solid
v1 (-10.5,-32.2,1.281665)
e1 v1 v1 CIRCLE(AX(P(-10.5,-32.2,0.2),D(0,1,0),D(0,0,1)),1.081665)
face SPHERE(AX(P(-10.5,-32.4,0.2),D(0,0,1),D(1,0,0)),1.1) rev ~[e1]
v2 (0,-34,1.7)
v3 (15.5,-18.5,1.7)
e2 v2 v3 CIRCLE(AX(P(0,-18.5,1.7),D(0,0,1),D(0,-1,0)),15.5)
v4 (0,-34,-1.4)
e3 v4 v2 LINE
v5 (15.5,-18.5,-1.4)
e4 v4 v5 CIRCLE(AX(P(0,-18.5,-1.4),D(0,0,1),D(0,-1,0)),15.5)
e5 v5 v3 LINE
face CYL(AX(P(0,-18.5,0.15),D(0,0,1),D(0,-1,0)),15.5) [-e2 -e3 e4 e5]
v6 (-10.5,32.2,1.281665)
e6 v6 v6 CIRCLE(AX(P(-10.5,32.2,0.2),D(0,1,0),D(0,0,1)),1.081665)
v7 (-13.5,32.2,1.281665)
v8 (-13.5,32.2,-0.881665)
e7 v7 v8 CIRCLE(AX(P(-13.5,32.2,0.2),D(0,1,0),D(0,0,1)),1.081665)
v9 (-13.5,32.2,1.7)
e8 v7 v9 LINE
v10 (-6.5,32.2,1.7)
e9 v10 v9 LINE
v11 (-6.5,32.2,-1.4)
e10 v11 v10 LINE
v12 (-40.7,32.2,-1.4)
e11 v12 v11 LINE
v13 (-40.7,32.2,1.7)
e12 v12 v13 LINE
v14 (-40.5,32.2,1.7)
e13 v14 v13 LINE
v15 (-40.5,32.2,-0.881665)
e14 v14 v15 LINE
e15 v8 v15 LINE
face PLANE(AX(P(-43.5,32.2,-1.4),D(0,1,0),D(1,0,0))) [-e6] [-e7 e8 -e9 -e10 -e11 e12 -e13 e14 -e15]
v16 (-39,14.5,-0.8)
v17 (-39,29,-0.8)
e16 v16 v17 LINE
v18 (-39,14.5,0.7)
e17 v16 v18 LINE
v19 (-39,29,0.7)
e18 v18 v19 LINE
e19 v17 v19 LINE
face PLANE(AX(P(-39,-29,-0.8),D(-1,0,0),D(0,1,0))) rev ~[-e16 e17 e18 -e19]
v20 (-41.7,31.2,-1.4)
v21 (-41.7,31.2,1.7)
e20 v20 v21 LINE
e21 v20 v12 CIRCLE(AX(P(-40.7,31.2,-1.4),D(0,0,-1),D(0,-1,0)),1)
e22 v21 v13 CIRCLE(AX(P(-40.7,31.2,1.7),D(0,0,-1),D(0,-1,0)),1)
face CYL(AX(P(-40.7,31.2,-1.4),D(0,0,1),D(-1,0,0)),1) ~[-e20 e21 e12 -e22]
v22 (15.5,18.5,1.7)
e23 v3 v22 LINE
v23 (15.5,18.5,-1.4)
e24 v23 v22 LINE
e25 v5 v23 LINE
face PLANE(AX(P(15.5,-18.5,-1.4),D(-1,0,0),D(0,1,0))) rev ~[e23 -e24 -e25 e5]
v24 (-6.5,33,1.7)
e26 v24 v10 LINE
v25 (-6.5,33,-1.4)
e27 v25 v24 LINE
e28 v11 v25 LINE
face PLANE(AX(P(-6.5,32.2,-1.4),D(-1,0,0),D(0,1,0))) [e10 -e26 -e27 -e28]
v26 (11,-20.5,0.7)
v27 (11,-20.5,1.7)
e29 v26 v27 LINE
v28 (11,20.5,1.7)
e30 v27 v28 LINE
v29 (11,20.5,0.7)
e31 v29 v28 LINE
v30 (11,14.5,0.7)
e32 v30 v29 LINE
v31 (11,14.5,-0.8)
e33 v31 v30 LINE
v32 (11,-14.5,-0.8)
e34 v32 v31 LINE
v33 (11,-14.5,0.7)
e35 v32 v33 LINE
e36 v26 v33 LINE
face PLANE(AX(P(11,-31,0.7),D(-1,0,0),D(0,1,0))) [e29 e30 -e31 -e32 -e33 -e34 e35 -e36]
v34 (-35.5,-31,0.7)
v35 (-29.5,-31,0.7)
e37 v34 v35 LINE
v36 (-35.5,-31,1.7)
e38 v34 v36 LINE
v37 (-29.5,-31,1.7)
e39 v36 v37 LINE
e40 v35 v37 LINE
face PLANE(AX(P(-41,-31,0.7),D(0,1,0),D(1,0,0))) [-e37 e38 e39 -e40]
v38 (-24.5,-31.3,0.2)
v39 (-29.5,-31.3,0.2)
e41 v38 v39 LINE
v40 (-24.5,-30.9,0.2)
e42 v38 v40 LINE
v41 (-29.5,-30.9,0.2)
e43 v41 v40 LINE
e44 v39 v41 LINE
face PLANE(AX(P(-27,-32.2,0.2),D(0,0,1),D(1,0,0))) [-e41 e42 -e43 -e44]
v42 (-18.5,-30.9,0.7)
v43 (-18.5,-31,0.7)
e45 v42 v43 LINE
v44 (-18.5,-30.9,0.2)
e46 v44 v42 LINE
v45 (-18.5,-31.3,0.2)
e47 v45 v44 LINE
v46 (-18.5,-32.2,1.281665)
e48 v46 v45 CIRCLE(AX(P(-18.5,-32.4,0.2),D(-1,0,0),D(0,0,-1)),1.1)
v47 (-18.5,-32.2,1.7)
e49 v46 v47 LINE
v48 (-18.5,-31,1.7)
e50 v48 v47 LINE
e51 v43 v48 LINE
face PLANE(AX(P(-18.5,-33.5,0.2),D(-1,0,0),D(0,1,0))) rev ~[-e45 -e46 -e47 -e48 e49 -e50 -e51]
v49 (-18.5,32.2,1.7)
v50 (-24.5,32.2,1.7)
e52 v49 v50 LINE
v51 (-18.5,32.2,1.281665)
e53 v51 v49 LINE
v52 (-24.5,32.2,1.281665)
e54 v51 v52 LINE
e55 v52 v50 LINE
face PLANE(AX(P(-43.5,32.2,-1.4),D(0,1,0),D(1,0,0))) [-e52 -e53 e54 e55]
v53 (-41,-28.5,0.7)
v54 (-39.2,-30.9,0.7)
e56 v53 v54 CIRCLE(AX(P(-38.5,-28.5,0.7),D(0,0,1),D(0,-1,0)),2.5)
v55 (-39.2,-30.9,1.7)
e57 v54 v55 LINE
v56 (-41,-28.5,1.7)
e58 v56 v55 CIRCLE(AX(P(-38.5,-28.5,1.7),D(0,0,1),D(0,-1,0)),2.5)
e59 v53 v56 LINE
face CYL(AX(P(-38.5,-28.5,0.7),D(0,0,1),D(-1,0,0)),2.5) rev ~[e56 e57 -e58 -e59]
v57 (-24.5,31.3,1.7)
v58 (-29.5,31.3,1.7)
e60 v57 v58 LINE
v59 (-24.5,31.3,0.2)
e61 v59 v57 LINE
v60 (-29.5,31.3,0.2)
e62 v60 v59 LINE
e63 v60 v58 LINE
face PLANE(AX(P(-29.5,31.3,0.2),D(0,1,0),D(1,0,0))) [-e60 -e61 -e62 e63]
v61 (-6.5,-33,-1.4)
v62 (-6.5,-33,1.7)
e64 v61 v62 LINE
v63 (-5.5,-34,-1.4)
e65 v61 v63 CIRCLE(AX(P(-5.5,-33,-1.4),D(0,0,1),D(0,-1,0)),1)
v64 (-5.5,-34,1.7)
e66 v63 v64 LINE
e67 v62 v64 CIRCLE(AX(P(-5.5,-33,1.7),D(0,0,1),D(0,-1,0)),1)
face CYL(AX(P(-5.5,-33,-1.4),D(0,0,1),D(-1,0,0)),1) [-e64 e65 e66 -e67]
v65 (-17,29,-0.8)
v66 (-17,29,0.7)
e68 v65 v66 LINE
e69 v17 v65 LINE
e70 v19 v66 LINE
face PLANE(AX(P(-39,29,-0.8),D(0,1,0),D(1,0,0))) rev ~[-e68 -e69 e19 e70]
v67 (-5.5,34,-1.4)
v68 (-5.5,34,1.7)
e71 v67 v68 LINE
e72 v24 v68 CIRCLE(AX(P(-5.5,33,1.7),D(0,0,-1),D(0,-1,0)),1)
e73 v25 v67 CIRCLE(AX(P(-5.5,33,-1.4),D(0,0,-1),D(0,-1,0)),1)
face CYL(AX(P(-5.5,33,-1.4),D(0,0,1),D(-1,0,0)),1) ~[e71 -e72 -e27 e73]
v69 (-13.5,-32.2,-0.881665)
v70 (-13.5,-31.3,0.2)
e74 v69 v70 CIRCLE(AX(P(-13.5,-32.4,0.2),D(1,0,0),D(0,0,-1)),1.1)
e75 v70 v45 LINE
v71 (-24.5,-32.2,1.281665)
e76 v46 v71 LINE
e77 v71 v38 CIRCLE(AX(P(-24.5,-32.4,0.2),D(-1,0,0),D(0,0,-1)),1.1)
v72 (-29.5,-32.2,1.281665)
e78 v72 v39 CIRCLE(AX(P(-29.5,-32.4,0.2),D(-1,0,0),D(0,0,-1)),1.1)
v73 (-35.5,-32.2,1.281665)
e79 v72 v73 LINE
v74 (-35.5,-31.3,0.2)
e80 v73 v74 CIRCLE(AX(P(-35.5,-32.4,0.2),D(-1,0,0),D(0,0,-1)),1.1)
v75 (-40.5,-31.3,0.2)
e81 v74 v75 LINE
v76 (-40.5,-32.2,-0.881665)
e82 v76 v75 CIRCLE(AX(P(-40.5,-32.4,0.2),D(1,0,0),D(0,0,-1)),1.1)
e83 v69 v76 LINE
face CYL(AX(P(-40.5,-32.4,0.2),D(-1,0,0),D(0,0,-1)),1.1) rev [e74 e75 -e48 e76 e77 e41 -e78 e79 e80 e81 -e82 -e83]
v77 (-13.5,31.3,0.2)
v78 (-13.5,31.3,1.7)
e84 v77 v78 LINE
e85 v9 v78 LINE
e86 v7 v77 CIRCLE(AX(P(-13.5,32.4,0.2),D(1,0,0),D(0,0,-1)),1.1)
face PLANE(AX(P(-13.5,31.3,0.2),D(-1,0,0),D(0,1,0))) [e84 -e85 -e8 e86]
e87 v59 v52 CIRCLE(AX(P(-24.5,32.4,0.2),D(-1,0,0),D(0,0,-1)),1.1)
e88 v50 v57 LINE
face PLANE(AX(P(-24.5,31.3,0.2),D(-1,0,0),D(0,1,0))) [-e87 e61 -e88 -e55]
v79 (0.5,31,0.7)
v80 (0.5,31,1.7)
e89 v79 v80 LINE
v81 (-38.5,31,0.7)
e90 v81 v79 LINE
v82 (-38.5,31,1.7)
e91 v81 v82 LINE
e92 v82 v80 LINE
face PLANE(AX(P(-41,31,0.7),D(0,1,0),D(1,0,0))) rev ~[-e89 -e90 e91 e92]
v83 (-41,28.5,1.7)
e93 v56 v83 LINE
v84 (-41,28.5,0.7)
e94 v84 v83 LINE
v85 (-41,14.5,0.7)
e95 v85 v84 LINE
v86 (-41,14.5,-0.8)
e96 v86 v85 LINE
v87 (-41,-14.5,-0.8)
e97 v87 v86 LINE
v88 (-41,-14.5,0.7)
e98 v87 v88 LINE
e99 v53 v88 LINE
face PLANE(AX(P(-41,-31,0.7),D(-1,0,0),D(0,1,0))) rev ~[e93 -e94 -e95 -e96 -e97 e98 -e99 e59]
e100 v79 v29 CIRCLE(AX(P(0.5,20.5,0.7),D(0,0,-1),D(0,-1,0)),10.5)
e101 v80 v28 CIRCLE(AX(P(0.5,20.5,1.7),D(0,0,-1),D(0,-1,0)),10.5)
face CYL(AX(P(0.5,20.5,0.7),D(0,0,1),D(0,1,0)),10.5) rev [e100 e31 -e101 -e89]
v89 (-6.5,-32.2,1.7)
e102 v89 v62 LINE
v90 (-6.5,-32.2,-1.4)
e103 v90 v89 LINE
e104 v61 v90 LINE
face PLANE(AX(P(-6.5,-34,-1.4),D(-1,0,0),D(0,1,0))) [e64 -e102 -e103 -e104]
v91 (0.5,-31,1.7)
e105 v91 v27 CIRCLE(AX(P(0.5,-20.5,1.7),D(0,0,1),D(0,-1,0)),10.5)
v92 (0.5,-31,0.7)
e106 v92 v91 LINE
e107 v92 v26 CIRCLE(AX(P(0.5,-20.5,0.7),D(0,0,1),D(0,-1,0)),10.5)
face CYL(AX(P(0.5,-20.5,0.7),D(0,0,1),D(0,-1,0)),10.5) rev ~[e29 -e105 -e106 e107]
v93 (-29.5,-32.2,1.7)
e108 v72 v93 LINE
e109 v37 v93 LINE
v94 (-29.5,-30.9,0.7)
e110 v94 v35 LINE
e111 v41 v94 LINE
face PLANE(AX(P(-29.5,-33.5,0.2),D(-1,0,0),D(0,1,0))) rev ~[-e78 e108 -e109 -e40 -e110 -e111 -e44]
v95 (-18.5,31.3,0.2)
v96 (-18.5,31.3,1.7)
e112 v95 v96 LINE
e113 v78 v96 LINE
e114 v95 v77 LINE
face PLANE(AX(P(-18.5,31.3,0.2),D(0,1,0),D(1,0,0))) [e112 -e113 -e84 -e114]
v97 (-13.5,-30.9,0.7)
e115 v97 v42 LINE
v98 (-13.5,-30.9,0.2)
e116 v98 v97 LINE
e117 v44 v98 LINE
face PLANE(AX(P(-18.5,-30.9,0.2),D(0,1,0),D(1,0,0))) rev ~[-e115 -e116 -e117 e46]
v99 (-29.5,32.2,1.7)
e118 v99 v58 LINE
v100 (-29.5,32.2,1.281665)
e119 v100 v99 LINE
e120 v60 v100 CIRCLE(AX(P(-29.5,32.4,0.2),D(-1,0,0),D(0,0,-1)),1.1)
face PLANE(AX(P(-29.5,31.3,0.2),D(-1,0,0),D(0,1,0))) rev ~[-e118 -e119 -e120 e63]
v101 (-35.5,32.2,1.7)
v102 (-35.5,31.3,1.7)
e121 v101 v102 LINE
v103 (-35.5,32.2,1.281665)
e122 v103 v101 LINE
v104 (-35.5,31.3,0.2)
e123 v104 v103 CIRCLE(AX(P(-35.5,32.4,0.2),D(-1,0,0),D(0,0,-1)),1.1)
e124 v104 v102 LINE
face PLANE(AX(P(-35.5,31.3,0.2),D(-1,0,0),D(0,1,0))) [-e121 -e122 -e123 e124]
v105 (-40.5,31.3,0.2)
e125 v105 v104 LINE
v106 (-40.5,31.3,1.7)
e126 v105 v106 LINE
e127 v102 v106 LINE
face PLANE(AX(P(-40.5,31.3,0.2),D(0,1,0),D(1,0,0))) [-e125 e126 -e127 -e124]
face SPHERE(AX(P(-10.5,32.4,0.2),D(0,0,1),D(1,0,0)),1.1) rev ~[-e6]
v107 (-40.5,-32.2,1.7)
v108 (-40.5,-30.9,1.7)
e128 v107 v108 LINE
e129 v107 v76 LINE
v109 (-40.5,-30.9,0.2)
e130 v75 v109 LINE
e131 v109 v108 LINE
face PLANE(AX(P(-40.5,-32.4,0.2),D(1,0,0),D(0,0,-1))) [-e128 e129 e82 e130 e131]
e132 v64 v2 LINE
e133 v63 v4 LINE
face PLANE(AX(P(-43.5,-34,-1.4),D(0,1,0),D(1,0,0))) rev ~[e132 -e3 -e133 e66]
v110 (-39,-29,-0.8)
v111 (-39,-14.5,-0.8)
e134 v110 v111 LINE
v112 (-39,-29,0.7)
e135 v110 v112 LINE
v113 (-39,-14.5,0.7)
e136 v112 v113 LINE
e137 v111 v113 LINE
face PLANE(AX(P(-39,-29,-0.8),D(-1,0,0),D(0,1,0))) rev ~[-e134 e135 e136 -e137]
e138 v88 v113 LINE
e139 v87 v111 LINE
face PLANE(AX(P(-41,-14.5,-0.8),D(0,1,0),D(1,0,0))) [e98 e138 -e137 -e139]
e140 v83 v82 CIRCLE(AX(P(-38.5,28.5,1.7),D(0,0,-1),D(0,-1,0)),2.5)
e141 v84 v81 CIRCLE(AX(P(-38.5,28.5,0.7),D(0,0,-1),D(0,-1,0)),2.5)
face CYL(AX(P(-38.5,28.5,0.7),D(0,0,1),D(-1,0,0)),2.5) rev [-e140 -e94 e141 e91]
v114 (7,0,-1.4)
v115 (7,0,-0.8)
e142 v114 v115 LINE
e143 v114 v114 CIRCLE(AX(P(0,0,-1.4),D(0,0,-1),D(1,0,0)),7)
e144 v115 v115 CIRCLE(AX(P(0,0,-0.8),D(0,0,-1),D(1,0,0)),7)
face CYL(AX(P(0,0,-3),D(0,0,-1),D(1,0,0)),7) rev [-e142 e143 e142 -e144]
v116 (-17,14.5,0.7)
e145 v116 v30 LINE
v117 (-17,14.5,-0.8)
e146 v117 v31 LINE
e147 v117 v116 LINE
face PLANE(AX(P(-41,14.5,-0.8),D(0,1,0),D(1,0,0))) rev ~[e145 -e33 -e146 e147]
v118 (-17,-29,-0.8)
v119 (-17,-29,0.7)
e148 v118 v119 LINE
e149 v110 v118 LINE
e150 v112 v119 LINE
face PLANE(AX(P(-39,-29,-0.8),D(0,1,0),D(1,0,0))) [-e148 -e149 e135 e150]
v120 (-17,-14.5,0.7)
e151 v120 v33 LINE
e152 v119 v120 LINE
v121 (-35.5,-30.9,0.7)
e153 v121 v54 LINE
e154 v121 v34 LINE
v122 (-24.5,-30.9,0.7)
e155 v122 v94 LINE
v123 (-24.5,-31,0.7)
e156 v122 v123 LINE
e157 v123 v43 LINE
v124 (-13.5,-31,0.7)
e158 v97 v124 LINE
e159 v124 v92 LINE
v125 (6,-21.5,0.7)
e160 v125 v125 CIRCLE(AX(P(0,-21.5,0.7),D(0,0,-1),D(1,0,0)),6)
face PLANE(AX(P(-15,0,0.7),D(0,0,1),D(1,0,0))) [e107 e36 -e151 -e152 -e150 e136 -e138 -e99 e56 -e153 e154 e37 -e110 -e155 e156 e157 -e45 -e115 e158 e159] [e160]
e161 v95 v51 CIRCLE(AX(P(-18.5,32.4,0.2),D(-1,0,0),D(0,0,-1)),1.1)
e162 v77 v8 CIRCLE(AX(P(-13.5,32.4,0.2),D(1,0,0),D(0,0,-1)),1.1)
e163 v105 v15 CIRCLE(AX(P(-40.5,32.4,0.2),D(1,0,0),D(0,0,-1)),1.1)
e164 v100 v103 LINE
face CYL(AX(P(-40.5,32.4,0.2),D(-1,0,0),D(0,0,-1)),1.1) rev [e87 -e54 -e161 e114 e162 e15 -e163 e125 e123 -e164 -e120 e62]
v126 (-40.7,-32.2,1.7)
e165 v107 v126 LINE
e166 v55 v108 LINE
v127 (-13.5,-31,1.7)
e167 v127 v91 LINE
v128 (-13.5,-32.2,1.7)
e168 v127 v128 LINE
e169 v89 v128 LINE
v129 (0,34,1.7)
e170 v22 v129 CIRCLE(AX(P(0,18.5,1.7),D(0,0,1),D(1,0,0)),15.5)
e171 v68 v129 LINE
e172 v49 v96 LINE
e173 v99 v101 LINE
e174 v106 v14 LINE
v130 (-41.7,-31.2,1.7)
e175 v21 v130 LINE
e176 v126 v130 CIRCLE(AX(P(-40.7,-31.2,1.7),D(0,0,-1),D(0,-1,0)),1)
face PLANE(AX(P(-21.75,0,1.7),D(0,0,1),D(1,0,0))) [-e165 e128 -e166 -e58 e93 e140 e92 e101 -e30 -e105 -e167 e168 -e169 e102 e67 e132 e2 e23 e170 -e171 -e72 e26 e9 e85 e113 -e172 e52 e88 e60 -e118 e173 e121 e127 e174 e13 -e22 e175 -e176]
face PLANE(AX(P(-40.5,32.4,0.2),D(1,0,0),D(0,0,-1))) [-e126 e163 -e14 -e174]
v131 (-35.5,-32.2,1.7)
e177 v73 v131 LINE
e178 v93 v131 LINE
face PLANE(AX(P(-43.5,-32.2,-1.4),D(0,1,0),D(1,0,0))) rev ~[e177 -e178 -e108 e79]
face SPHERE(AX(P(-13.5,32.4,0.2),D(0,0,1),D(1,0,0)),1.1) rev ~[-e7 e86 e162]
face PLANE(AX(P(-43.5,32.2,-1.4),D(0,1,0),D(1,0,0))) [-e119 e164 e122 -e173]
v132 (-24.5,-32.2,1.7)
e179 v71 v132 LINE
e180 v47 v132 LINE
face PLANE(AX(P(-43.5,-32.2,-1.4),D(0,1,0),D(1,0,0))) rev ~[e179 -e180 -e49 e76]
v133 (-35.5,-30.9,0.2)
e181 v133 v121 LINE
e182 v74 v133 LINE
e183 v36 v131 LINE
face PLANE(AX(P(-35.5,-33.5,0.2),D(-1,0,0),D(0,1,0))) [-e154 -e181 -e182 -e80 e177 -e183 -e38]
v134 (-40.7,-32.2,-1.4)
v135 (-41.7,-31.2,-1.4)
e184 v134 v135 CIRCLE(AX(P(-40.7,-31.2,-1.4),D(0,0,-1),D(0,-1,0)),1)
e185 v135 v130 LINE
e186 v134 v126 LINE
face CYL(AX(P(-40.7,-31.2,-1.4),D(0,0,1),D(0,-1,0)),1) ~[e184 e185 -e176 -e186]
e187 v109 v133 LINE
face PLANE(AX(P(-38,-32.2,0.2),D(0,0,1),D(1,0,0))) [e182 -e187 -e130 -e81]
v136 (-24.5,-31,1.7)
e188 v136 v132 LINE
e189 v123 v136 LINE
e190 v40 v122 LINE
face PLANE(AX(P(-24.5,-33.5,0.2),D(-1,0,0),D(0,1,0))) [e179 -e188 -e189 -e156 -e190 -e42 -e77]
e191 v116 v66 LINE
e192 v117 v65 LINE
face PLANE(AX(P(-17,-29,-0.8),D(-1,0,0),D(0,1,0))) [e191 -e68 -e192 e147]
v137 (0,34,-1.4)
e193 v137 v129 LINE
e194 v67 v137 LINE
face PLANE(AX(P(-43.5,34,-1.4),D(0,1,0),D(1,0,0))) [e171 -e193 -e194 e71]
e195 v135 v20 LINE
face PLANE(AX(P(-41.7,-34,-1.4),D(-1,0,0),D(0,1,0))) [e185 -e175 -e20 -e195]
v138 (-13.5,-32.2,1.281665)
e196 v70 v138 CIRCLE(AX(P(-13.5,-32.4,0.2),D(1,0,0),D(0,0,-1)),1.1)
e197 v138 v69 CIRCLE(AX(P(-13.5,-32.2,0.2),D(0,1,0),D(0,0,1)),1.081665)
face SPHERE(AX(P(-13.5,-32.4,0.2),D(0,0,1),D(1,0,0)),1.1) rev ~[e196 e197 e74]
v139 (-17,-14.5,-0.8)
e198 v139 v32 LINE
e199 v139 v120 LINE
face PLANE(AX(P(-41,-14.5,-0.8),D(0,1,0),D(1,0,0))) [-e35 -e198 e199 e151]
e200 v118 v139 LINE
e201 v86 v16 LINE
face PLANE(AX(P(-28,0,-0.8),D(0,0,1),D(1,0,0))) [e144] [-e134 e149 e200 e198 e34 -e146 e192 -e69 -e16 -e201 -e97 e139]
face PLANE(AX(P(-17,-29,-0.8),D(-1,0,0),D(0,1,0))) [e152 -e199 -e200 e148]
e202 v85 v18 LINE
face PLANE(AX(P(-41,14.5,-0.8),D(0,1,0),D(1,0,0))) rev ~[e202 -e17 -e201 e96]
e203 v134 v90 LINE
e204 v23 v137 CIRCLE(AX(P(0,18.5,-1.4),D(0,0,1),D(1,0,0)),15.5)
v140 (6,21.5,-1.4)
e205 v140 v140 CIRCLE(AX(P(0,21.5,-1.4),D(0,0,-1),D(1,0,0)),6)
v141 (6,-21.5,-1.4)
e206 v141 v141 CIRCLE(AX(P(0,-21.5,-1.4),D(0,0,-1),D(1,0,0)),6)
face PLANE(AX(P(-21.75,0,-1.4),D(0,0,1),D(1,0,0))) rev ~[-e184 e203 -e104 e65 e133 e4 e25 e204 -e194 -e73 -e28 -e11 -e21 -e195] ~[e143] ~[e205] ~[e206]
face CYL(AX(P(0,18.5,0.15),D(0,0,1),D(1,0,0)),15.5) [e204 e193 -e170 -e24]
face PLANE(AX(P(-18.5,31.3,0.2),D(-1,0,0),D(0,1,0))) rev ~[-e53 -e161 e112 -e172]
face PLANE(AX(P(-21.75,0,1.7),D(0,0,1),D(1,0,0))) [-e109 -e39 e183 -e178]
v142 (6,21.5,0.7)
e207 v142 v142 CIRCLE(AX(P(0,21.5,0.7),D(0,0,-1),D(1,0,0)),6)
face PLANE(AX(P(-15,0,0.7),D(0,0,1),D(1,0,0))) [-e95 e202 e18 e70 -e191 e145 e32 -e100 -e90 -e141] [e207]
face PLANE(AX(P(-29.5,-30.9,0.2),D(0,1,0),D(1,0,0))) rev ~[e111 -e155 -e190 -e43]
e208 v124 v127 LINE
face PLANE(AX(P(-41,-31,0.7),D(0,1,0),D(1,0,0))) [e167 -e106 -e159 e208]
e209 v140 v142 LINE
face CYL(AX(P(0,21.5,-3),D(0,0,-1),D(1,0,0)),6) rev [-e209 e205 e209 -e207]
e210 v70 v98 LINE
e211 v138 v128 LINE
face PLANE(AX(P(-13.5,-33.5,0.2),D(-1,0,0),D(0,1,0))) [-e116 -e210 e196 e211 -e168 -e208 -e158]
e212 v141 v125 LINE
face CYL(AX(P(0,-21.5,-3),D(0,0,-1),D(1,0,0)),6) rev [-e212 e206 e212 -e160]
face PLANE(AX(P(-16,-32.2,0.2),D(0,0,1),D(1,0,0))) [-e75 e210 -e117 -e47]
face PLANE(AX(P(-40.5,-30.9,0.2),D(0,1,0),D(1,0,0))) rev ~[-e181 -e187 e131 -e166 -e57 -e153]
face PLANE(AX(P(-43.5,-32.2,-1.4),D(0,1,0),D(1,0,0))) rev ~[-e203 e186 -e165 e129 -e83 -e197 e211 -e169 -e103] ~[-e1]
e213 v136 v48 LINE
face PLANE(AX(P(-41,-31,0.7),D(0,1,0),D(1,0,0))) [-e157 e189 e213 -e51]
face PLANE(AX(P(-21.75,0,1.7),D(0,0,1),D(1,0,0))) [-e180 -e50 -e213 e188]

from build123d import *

# Parameters (mm, degrees)
CYLINDER_R        = 1.1
CYLINDER_DEPTH    = 27
ARRAY018_Y_COUNT  = 2
ARRAY018_Y_PITCH  = 64.8
BOX_W             = 5
BOX_H             = 2.6
BOX_DEPTH         = 10
ARRAY019_X_COUNT  = 3
ARRAY019_X_PITCH  = 11
ARRAY019_Y_COUNT  = 2
ARRAY019_Y_PITCH  = 64.8
ARRAY017_X_COUNT  = 2
ARRAY017_X_PITCH  = 3
ARRAY017_Y_COUNT  = 2
ARRAY017_Y_PITCH  = 64.8
BOX030_W          = 1.8
BOX030_H          = 68
BOX030_DEPTH      = 10
BOX029_W          = 37
BOX029_H          = 1.8
BOX029_DEPTH      = 10
ARRAY016_Y_COUNT  = 2
ARRAY016_Y_PITCH  = 66.2
CYLINDER021_R     = 6
CYLINDER021_DEPTH = 10
CYLINDER022_R     = 7
CYLINDER022_DEPTH = 10
CYLINDER020_R     = 6
CYLINDER020_DEPTH = 10
BOX028_W          = 22
BOX028_H          = 58
BOX028_DEPTH      = 1.5
BOX027_W          = 52
BOX027_H          = 29
BOX027_DEPTH      = 1.5
BOX026_W          = 52
BOX026_H          = 62
BOX026_DEPTH      = 1
FILLET018_R       = 2.5
FILLET019_R       = 10.5
CYLINDER019_W     = 15.5
CYLINDER019_H     = 3.1
CYLINDER019_ANGLE = 90
BOX024_W          = 15.5
BOX024_H          = 37
BOX024_DEPTH      = 3.1
BOX025_W          = 43.5
BOX025_H          = 68
BOX025_DEPTH      = 3.1
FILLET017_R       = 2
CYLINDER018_W     = 15.5
CYLINDER018_H     = 3.1
CYLINDER018_ANGLE = 90
FILLET020_R       = 1


with BuildPart() as array018:
    # Cylinder → Cylinder (new body)
    with BuildSketch(Plane(origin=(-40.5, -32.4, 0.2), x_dir=(0, 0, -1), z_dir=(1, 0, 0))):
        Circle(CYLINDER_R)
    extrude(amount=CYLINDER_DEPTH)

    # Array018 Y: Array018 ×2


with BuildPart() as array018_1:
    add(array018.part)
    with Locations(*[(0, i * ARRAY018_Y_PITCH, 0) for i in range(1, ARRAY018_Y_COUNT)]):
        add(array018.part)


with BuildPart() as array019:
    # Box → Box (new body)
    with BuildSketch(Plane(origin=(-18.5, -33.5, 0.2), x_dir=(1, 0, 0), z_dir=(0, 0, 1))):
        with Locations((2.5, 1.3)):
            Rectangle(BOX_W, BOX_H)
    extrude(amount=BOX_DEPTH)

    # Array019 X: Array019 ×3


with BuildPart() as array019_1:
    add(array019.part)
    with Locations(*[(-i * ARRAY019_X_PITCH, 0, 0) for i in range(1, ARRAY019_X_COUNT)]):
        add(array019.part)

    # Array019 Y: Array019 ×2


with BuildPart() as array019_2:
    add(array019_1.part)
    with Locations(*[(0, i * ARRAY019_Y_PITCH, 0) for i in range(1, ARRAY019_Y_COUNT)]):
        add(array019_1.part)


with BuildPart() as nutall:
    # Sphere001 → Sphere001 (revolve)
    with BuildSketch(Plane(origin=(-10.5, -32.4, 0.2), x_dir=(1, 0, 0), z_dir=(0, -1, 0))):
        with BuildLine():
            ThreePointArc((0, -1.1), (1.1, 0), (0, 1.1))
            Line((0, 1.1), (0, -1.1))
        make_face()
    revolve(axis=Axis((-10.5, -32.4, 0.2), (0, 0, 1)))

    # Array017 X: NutAll ×2


with BuildPart() as nutall_1:
    add(nutall.part)
    with Locations(*[(-i * ARRAY017_X_PITCH, 0, 0) for i in range(1, ARRAY017_X_COUNT)]):
        add(nutall.part)

    # Array017 Y: NutAll ×2


with BuildPart() as nutall_2:
    add(nutall_1.part)
    with Locations(*[(0, i * ARRAY017_Y_PITCH, 0) for i in range(1, ARRAY017_Y_COUNT)]):
        add(nutall_1.part)

    # Fusion013: union Array018, Array019
    add(array018_1.part)
    add(array019_2.part)


with BuildPart() as dbcut2:
    # Box030 → Box030 (new body)
    with BuildSketch(Plane(origin=(-43.5, -34, -1.4), x_dir=(1, 0, 0), z_dir=(0, 0, 1))):
        with Locations((0.9, 34)):
            Rectangle(BOX030_W, BOX030_H)
    extrude(amount=BOX030_DEPTH)


with BuildPart() as deckelrandcut:
    # Box029 → Box029 (new body)
    with BuildSketch(Plane(origin=(-43.5, -34, -1.4), x_dir=(1, 0, 0), z_dir=(0, 0, 1))):
        with Locations((18.5, 0.9)):
            Rectangle(BOX029_W, BOX029_H)
    extrude(amount=BOX029_DEPTH)

    # Array016 Y: DeckelRandCut ×2


with BuildPart() as deckelrandcut_1:
    add(deckelrandcut.part)
    with Locations(*[(0, i * ARRAY016_Y_PITCH, 0) for i in range(1, ARRAY016_Y_COUNT)]):
        add(deckelrandcut.part)

    # Fusion012: union DBCut2
    add(dbcut2.part)


with BuildPart() as locho:
    # Cylinder021 → Cylinder021 (new body)
    with BuildSketch(Plane(origin=(0, 21.5, -3), x_dir=(1, 0, 0), z_dir=(0, 0, 1))):
        Circle(CYLINDER021_R)
    extrude(amount=CYLINDER021_DEPTH)


with BuildPart() as lochm:
    # Cylinder022 → Cylinder022 (new body)
    with BuildSketch(Plane.XY.offset(-3)):
        Circle(CYLINDER022_R)
    extrude(amount=CYLINDER022_DEPTH)


with BuildPart() as lochomu:
    # Cylinder020 → Cylinder020 (new body)
    with BuildSketch(Plane(origin=(0, -21.5, -3), x_dir=(1, 0, 0), z_dir=(0, 0, 1))):
        Circle(CYLINDER020_R)
    extrude(amount=CYLINDER020_DEPTH)

    # Fusion009: union LochO, LochM
    add(locho.part)
    add(lochm.part)


with BuildPart() as partcut2:
    # Box028 → Box028 (new body)
    with BuildSketch(Plane(origin=(-39, -29, -0.8), x_dir=(1, 0, 0), z_dir=(0, 0, 1))):
        with Locations((11, 29)):
            Rectangle(BOX028_W, BOX028_H)
    extrude(amount=BOX028_DEPTH)


with BuildPart() as partcuts:
    # Box027 → Box027 (new body)
    with BuildSketch(Plane(origin=(-41, -14.5, -0.8), x_dir=(1, 0, 0), z_dir=(0, 0, 1))):
        with Locations((26, 14.5)):
            Rectangle(BOX027_W, BOX027_H)
    extrude(amount=BOX027_DEPTH)

    # Fusion008: union PartCut2
    add(partcut2.part)


with BuildPart() as fillet019:
    # Box026 → Box026 (new body)
    with BuildSketch(Plane(origin=(-41, -31, 0.7), x_dir=(1, 0, 0), z_dir=(0, 0, 1))):
        with Locations((26, 31)):
            Rectangle(BOX026_W, BOX026_H)
    extrude(amount=BOX026_DEPTH)

    # Fillet018
    fillet018_edges = [fillet019.edges().sort_by_distance(p)[0] for p in [
        (-41, -31, 1.2),
        (-41, 31, 1.2),
    ]]
    fillet(fillet018_edges, radius=FILLET018_R)

    # Fillet019
    fillet019_edges = [fillet019.edges().sort_by_distance(p)[0] for p in [
        (11, -31, 1.2),
        (11, 31, 1.2),
    ]]
    fillet(fillet019_edges, radius=FILLET019_R)


with BuildPart() as eru:
    # Cylinder019 → Cylinder019 (revolve)
    with BuildSketch(Plane(origin=(0, -18.5, -1.4), x_dir=(0, -1, 0), z_dir=(-1, 0, 0))):
        with Locations((7.75, 1.55)):
            Rectangle(CYLINDER019_W, CYLINDER019_H)
    revolve(axis=Axis((0, -18.5, -1.4), (0, 0, 1)), revolution_arc=CYLINDER019_ANGLE)


with BuildPart() as mr:
    # Box024 → Box024 (new body)
    with BuildSketch(Plane(origin=(0, -18.5, -1.4), x_dir=(1, 0, 0), z_dir=(0, 0, 1))):
        with Locations((7.75, 18.5)):
            Rectangle(BOX024_W, BOX024_H)
    extrude(amount=BOX024_DEPTH)


with BuildPart() as fillet017:
    # Box025 → Box025 (new body)
    with BuildSketch(Plane(origin=(-43.5, -34, -1.4), x_dir=(1, 0, 0), z_dir=(0, 0, 1))):
        with Locations((21.75, 34)):
            Rectangle(BOX025_W, BOX025_H)
    extrude(amount=BOX025_DEPTH)

    # Fillet017
    fillet017_edges = [fillet017.edges().sort_by_distance(p)[0] for p in [
        (-43.5, -34, 0.15),
        (-43.5, 34, 0.15),
    ]]
    fillet(fillet017_edges, radius=FILLET017_R)


with BuildPart() as bodenr:
    # Cylinder018 → Cylinder018 (revolve)
    with BuildSketch(Plane(origin=(0, 18.5, -1.4), x_dir=(1, 0, 0), z_dir=(0, -1, 0))):
        with Locations((7.75, 1.55)):
            Rectangle(CYLINDER018_W, CYLINDER018_H)
    revolve(axis=Axis((0, 18.5, -1.4), (0, 0, 1)), revolution_arc=CYLINDER018_ANGLE)

    # Fusion007: union ERU, MR, Fillet017
    add(eru.part)
    add(mr.part)
    add(fillet017.part)

    # Cut030: cut Fillet019
    add(fillet019.part, mode=Mode.SUBTRACT)

    # Cut031: cut PartCuts
    add(partcuts.part, mode=Mode.SUBTRACT)

    # Cut032: cut LochOMU
    add(lochomu.part, mode=Mode.SUBTRACT)

    # Cut033: cut DeckelRandCut
    add(deckelrandcut_1.part, mode=Mode.SUBTRACT)

    # Fillet020
    fillet020_edges = [bodenr.edges().sort_by_distance(p)[0] for p in [
        (-6.5, 34, 0.15),
        (-6.5, -34, 0.15),
        (-41.7, -32.2, 0.15),
        (-41.7, 32.2, 0.15),
    ]]
    fillet(fillet020_edges, radius=FILLET020_R)

    # Cut: cut NutAll
    add(nutall_2.part, mode=Mode.SUBTRACT)


solid = bodenr.part
